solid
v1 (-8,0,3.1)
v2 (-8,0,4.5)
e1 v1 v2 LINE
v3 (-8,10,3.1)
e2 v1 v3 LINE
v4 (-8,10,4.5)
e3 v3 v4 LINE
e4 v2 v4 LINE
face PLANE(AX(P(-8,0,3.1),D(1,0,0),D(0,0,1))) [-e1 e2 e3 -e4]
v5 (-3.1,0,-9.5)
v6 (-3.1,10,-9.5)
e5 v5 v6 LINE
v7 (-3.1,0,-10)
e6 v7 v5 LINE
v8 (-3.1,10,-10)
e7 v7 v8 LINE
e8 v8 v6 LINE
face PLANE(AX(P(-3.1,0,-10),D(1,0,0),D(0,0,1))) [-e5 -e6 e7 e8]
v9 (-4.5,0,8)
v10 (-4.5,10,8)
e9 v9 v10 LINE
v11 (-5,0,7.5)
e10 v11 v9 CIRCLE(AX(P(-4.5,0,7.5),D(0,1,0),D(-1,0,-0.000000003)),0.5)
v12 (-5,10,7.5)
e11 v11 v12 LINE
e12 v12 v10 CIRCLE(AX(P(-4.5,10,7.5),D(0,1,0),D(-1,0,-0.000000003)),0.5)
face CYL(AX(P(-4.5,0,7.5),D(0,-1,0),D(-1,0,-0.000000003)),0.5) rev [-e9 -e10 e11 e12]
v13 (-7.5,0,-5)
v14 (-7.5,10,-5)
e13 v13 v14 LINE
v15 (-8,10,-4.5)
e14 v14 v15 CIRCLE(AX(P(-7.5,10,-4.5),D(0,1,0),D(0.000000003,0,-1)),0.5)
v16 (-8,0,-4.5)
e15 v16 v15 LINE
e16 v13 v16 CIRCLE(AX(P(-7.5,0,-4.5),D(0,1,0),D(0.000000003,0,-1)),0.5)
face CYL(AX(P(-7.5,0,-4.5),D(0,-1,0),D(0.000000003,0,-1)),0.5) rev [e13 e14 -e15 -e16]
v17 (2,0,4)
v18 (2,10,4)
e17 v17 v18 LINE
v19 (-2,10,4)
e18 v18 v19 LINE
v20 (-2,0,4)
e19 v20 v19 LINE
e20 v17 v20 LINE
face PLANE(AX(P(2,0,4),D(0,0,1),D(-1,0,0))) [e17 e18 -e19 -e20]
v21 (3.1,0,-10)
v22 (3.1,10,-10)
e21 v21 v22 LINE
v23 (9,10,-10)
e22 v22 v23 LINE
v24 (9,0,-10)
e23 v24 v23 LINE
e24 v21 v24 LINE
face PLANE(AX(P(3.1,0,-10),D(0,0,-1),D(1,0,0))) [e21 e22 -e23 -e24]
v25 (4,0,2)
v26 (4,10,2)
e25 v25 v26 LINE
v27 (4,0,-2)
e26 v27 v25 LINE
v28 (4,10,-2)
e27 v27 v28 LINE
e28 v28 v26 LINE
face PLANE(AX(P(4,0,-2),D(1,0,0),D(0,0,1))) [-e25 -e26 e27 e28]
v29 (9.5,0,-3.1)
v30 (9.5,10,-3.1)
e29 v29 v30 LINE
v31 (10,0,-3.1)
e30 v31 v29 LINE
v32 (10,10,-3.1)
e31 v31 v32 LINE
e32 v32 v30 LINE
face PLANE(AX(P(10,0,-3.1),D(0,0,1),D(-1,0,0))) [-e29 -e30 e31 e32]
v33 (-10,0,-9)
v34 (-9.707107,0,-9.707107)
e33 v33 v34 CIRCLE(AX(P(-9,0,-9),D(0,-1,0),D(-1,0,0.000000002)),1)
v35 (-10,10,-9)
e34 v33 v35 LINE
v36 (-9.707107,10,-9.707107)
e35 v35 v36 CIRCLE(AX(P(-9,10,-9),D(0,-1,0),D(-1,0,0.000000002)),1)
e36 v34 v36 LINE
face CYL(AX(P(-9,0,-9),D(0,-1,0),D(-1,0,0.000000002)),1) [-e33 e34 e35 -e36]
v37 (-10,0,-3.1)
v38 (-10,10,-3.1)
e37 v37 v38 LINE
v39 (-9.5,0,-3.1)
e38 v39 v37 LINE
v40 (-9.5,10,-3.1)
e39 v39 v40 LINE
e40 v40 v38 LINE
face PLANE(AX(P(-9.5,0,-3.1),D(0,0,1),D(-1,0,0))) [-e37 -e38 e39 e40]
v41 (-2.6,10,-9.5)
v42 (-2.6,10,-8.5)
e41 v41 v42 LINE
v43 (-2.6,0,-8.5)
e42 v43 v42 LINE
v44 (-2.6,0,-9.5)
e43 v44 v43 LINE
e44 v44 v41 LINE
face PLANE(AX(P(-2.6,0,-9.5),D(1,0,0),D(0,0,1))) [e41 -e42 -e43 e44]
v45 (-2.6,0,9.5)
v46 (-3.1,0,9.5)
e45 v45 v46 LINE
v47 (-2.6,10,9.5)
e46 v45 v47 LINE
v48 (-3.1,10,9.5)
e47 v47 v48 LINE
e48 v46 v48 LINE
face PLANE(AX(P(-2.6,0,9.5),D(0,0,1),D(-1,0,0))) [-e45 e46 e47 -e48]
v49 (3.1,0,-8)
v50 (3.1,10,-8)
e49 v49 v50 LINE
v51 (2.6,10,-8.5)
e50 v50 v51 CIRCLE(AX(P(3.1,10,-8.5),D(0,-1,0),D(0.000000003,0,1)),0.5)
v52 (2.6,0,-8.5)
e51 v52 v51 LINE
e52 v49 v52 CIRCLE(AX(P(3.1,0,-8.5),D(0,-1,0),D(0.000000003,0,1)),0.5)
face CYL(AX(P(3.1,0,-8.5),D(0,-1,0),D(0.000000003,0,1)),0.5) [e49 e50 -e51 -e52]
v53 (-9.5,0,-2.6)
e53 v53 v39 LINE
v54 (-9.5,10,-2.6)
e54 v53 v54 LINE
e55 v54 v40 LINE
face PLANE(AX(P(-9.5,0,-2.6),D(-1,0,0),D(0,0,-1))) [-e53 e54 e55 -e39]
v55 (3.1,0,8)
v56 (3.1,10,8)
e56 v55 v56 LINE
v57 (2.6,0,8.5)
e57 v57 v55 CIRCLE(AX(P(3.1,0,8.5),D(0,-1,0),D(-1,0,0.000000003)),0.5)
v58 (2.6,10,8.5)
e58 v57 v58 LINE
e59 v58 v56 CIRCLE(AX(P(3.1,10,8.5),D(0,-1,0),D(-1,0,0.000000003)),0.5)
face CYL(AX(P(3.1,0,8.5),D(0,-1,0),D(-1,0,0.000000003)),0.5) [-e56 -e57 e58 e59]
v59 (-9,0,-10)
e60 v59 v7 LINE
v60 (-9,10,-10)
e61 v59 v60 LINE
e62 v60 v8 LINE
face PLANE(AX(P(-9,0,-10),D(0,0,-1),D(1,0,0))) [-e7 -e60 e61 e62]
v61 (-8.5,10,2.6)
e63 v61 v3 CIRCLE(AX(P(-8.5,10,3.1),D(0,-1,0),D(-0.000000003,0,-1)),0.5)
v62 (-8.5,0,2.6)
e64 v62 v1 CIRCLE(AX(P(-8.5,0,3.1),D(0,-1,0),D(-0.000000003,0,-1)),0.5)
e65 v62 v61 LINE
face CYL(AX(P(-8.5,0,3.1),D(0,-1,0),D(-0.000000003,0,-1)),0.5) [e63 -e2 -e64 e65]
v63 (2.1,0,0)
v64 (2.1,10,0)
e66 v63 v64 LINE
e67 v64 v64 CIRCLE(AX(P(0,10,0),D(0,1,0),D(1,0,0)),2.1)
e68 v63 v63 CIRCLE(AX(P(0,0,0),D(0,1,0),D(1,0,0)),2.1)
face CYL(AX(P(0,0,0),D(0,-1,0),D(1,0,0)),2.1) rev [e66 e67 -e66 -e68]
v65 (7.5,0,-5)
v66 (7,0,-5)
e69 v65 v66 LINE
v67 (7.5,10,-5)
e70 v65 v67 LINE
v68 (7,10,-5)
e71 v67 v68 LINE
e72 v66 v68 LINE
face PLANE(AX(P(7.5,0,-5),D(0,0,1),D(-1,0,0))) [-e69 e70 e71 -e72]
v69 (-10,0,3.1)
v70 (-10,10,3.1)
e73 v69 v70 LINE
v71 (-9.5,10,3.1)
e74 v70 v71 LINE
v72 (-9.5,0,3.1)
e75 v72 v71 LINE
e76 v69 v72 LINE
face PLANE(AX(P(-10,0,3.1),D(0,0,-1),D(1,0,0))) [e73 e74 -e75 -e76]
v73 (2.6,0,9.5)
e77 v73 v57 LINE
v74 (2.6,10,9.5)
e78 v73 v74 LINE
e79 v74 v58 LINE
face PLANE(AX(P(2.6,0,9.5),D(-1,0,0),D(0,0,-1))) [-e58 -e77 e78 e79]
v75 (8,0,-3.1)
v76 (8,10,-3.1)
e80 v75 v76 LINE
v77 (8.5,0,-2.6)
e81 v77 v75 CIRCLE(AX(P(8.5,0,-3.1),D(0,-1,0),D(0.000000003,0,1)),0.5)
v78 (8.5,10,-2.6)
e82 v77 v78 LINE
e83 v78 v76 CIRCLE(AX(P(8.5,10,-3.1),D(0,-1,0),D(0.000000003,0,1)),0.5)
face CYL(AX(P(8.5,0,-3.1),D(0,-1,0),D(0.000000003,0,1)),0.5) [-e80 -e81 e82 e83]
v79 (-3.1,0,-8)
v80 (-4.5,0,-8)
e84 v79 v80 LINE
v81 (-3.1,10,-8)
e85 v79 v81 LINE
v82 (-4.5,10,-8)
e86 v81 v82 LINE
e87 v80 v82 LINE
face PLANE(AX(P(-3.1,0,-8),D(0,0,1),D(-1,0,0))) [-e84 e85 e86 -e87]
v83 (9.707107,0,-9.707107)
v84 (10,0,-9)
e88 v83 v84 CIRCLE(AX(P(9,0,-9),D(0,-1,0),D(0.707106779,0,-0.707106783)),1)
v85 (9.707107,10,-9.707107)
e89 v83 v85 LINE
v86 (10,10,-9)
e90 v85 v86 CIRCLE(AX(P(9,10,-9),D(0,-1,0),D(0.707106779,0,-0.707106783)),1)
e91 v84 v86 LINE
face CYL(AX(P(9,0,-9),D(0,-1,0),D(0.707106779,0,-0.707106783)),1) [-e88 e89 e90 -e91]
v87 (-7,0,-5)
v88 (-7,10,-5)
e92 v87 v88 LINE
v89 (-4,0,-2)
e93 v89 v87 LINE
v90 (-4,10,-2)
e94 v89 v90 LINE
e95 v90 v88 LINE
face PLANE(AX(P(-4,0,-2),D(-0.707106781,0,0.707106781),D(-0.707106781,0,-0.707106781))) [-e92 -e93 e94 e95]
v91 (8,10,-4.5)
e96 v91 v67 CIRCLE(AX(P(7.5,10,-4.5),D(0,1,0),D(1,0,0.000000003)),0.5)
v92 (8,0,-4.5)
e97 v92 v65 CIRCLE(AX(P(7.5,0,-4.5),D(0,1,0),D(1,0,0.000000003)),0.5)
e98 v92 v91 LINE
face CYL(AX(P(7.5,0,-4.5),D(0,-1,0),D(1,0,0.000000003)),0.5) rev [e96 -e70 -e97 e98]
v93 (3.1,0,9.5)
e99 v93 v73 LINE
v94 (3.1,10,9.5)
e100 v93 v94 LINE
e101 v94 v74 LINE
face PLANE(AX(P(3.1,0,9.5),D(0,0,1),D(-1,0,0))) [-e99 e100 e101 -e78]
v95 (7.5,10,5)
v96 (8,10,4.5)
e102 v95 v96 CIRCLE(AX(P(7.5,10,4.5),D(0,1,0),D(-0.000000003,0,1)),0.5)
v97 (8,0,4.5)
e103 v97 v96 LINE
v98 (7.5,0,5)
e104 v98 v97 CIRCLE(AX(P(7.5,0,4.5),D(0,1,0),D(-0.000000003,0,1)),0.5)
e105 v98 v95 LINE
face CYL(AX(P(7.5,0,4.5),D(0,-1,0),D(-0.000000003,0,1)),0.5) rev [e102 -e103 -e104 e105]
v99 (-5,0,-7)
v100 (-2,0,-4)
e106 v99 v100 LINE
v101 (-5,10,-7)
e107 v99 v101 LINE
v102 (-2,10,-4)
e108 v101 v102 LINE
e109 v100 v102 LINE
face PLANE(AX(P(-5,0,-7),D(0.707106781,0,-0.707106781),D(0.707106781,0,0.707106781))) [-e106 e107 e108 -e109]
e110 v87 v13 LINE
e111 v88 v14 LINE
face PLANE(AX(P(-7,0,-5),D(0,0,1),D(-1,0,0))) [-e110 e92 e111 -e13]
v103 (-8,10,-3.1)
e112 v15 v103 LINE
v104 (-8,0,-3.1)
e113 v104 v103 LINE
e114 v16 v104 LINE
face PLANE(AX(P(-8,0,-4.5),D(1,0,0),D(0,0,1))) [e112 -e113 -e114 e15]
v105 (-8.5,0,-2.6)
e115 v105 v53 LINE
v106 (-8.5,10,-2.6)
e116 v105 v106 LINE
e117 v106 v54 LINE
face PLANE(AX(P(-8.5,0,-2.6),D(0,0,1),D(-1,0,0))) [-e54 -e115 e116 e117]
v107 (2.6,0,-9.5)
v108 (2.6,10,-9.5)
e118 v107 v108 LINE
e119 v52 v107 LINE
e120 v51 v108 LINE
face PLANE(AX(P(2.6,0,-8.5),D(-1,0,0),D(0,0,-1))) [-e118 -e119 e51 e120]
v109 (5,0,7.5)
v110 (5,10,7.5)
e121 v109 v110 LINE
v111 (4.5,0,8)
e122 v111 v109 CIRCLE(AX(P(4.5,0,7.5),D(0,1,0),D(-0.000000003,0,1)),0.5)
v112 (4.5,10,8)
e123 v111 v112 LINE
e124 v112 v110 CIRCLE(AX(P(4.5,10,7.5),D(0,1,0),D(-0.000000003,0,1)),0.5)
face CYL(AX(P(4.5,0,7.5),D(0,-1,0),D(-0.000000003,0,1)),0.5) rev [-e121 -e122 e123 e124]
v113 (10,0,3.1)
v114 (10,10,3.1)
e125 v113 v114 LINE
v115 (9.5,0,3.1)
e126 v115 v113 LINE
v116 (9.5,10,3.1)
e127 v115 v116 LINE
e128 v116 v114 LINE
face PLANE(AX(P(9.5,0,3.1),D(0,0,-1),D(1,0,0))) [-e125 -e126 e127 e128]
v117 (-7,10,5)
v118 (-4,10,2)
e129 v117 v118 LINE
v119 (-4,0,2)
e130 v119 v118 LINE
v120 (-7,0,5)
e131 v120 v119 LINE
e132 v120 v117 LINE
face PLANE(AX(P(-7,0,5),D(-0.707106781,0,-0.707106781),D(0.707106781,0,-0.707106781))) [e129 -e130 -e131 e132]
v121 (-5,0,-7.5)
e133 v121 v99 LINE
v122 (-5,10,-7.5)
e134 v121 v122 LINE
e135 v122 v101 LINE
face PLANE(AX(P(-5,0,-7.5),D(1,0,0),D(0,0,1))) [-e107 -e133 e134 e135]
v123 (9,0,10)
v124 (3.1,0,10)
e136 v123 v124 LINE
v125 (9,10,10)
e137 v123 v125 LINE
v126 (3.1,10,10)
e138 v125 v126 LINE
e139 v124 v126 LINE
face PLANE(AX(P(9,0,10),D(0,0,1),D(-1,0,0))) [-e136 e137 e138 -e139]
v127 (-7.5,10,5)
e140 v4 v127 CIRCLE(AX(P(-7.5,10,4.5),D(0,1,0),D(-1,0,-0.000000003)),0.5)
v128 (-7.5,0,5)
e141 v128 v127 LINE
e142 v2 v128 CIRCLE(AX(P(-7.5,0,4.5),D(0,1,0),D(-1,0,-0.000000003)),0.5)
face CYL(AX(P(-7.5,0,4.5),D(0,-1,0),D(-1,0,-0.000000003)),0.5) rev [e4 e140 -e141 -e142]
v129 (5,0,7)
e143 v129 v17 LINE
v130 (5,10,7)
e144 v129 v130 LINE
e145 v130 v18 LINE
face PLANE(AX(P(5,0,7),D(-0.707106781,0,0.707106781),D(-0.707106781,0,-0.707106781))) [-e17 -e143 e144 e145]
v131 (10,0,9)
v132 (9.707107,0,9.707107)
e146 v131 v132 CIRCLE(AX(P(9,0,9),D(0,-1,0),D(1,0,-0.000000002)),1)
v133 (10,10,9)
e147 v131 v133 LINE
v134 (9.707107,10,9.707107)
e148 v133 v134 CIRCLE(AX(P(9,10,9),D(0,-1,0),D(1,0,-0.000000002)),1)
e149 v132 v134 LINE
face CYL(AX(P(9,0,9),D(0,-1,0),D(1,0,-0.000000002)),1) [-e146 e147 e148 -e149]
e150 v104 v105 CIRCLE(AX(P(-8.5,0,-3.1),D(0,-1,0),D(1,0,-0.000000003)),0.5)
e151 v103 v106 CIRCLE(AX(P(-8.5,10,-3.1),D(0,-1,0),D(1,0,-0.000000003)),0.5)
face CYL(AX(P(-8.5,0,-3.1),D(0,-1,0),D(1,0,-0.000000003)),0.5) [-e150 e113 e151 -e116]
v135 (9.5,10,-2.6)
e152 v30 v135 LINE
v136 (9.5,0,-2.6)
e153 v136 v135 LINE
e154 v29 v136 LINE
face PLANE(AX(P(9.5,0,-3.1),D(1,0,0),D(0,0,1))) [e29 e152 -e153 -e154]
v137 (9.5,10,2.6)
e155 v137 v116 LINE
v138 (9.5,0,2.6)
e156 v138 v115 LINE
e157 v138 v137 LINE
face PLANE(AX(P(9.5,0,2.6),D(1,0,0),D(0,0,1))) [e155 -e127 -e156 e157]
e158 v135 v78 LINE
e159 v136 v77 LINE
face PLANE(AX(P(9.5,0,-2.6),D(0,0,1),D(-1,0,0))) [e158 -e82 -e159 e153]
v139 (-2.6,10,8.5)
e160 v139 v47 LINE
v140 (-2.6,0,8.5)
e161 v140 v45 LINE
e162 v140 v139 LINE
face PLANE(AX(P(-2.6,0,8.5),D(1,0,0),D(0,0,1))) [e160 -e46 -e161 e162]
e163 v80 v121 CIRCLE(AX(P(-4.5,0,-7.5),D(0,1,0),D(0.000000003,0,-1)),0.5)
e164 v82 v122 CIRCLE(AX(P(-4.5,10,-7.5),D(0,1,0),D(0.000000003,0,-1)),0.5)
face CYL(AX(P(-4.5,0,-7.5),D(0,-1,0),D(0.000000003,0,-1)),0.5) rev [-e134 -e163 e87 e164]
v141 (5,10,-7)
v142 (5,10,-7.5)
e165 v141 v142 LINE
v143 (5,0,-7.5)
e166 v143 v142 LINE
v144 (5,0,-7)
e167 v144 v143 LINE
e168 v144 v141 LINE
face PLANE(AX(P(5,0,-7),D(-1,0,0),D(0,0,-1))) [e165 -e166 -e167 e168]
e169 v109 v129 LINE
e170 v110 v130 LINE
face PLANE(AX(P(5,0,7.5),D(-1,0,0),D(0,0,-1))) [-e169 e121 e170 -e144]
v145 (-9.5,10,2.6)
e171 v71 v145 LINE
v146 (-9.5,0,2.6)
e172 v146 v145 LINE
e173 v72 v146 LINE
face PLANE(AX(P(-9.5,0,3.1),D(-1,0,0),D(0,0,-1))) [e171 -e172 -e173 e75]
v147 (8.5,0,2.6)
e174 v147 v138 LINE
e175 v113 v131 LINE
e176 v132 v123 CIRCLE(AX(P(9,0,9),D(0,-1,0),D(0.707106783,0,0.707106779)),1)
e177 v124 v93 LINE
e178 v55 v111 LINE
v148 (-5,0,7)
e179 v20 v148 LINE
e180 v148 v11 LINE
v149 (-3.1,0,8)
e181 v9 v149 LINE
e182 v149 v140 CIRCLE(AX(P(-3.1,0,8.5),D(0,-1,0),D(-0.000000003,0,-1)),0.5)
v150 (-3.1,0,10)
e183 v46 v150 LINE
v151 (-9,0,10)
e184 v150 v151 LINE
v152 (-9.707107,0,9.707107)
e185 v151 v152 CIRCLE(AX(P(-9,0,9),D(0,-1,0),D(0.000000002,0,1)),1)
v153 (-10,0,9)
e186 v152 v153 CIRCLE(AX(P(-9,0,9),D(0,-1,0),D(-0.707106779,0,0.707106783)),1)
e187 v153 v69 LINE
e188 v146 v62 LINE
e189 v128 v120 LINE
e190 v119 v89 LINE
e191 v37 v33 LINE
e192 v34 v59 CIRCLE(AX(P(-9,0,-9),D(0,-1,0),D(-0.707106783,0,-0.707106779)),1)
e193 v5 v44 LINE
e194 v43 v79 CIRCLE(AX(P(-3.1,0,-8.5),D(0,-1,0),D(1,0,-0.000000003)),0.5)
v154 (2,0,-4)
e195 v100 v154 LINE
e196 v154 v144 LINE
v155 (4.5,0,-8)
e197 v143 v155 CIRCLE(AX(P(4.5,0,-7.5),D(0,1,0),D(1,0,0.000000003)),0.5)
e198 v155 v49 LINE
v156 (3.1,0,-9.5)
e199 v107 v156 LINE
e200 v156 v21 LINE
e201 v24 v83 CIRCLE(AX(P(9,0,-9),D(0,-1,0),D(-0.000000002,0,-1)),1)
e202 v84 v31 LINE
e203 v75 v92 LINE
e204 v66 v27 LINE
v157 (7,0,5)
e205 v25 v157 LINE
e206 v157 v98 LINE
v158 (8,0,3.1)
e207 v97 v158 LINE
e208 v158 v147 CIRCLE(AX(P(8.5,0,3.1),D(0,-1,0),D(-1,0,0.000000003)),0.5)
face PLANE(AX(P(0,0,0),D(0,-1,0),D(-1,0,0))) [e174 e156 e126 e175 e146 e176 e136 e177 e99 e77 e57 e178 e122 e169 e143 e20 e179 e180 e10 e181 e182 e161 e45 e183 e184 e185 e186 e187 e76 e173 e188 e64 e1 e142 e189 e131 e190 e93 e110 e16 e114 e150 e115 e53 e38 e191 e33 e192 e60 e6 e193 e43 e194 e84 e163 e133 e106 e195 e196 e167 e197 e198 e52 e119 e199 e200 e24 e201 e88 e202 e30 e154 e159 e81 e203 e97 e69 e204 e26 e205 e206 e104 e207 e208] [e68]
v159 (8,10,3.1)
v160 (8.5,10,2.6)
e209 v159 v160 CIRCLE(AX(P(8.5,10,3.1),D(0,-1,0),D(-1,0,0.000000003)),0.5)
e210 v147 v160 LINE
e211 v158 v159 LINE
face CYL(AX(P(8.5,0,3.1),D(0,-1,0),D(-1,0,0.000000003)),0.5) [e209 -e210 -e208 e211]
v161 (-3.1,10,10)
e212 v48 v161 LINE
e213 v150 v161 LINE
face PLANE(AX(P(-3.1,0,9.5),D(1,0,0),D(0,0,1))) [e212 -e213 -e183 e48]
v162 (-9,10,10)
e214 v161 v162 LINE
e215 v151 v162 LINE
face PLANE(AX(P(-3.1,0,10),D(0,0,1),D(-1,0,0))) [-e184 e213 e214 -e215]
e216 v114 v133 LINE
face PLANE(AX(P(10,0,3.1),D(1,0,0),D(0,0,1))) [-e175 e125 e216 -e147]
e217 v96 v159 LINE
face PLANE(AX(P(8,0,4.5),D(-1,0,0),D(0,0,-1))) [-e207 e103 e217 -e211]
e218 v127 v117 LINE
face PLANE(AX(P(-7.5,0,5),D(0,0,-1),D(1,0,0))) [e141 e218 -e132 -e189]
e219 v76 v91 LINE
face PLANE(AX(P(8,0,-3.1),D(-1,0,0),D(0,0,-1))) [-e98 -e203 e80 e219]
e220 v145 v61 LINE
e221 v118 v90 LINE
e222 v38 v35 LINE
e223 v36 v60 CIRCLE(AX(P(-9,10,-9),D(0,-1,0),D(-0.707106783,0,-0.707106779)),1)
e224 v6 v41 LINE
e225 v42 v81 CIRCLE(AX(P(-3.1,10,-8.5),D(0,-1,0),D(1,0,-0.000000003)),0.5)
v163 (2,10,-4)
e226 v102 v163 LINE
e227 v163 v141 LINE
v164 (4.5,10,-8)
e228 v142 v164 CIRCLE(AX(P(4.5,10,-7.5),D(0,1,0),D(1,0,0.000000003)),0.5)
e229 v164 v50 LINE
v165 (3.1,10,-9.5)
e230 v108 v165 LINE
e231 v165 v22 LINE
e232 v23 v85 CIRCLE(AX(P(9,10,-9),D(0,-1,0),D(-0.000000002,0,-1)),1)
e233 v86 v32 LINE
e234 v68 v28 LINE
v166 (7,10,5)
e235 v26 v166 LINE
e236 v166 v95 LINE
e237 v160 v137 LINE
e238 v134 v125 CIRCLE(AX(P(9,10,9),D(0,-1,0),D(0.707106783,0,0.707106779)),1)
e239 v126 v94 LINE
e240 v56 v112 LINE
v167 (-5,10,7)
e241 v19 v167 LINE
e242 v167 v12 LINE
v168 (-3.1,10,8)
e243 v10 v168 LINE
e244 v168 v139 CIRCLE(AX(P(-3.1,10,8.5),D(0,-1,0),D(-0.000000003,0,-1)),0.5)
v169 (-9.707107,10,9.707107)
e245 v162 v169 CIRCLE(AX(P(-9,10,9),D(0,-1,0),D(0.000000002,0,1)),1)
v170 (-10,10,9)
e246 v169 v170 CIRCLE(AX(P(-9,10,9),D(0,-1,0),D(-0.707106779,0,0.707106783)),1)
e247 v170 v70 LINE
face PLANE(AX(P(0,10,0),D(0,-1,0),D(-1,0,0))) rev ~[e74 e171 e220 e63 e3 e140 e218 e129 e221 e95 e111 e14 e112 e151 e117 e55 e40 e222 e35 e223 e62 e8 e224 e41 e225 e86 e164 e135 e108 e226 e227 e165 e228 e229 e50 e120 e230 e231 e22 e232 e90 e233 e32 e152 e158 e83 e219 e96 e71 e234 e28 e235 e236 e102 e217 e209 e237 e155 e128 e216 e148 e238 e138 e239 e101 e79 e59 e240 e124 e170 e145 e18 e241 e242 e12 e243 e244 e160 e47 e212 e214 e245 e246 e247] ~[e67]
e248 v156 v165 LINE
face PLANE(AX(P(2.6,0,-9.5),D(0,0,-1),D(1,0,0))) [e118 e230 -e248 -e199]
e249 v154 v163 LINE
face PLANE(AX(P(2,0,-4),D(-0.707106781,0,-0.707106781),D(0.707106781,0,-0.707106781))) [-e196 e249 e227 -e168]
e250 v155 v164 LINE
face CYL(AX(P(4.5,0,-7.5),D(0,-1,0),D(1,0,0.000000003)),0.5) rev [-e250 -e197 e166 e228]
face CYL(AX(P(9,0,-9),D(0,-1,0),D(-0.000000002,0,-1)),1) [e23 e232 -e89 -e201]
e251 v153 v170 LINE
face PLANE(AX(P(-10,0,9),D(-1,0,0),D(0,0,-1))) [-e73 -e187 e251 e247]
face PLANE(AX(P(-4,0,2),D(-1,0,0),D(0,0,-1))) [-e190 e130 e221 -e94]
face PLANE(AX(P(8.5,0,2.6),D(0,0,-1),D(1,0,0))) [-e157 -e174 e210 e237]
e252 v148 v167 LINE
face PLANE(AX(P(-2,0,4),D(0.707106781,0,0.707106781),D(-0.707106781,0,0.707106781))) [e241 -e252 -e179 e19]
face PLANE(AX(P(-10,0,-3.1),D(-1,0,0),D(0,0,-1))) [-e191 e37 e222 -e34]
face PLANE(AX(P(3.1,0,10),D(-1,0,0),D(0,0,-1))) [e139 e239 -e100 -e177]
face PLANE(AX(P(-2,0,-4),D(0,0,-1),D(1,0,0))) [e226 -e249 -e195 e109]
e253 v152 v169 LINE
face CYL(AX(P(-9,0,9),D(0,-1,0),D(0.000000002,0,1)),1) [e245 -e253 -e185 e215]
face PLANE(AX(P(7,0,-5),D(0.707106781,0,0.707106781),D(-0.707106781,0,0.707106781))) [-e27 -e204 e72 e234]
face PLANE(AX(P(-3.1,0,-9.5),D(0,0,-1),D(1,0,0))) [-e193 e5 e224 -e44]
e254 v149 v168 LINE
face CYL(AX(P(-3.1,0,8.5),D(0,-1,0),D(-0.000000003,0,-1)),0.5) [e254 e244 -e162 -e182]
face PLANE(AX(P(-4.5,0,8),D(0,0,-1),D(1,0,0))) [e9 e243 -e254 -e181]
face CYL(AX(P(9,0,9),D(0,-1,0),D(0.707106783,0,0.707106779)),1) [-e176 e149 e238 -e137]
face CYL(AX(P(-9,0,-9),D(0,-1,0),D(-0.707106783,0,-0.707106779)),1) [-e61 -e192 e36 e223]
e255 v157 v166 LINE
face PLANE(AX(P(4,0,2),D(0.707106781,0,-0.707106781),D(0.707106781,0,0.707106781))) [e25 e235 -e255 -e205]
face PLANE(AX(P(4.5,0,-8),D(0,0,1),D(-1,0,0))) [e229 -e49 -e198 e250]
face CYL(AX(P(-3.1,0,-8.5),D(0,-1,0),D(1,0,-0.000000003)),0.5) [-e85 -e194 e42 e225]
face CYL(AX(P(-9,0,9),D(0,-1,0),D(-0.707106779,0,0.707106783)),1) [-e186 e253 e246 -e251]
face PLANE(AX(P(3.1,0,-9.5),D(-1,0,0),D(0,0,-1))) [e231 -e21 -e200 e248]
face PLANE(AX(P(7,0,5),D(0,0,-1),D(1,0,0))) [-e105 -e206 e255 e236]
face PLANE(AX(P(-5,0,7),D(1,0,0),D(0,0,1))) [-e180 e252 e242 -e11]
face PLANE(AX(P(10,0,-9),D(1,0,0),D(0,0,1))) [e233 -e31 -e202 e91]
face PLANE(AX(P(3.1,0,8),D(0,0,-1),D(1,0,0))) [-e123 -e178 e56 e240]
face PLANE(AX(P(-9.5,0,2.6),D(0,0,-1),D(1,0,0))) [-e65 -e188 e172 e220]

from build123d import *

# Parameters (mm, degrees)
SKETCH_1_R      = 2.1
EXTRUDE_1_DEPTH = 10


with BuildPart() as part:
    # 스케치1 → 보스-돌출1 (new body)
    with BuildSketch(Plane(origin=(0, 0, 0), x_dir=(1, 0, 0), z_dir=(0, 1, 0))):
        with BuildLine():
            Line((2, -4), (-2, -4))
            Line((-2, -4), (-5, -7))
            Line((-5, -7), (-5, -7.5))
            ThreePointArc((-5, -7.5), (-4.853553391, -7.853553391), (-4.5, -8))
            Line((-4.5, -8), (-3.1, -8))
            ThreePointArc((-3.1, -8), (-2.746446609, -8.146446609), (-2.6, -8.5))
            Line((-2.6, -8.5), (-2.6, -9.5))
            Line((-2.6, -9.5), (-3.1, -9.5))
            Line((-3.1, -9.5), (-3.1, -10))
            Line((-3.1, -10), (-9, -10))
            ThreePointArc((-9, -10), (-9.382683432, -9.923879533), (-9.707106781, -9.707106781))
            ThreePointArc((-9.707106781, -9.707106781), (-9.923879533, -9.382683432), (-10, -9))
            Line((-10, -9), (-10, -3.1))
            Line((-10, -3.1), (-9.5, -3.1))
            Line((-9.5, -3.1), (-9.5, -2.6))
            Line((-9.5, -2.6), (-8.5, -2.6))
            ThreePointArc((-8.5, -2.6), (-8.146446609, -2.746446609), (-8, -3.1))
            Line((-8, -3.1), (-8, -4.5))
            ThreePointArc((-8, -4.5), (-7.853553391, -4.853553391), (-7.5, -5))
            Line((-7.5, -5), (-7, -5))
            Line((-7, -5), (-4, -2))
            Line((-4, -2), (-4, 2))
            Line((-4, 2), (-7, 5))
            Line((-7, 5), (-7.5, 5))
            ThreePointArc((-7.5, 5), (-7.853553391, 4.853553391), (-8, 4.5))
            Line((-8, 4.5), (-8, 3.1))
            ThreePointArc((-8, 3.1), (-8.146446609, 2.746446609), (-8.5, 2.6))
            Line((-8.5, 2.6), (-9.5, 2.6))
            Line((-9.5, 2.6), (-9.5, 3.1))
            Line((-9.5, 3.1), (-10, 3.1))
            Line((-10, 3.1), (-10, 9))
            ThreePointArc((-10, 9), (-9.923879533, 9.382683432), (-9.707106781, 9.707106781))
            ThreePointArc((-9.707106781, 9.707106781), (-9.382683432, 9.923879533), (-9, 10))
            Line((-9, 10), (-3.1, 10))
            Line((-3.1, 10), (-3.1, 9.5))
            Line((-3.1, 9.5), (-2.6, 9.5))
            Line((-2.6, 9.5), (-2.6, 8.5))
            ThreePointArc((-2.6, 8.5), (-2.746446609, 8.146446609), (-3.1, 8))
            Line((-3.1, 8), (-4.5, 8))
            ThreePointArc((-4.5, 8), (-4.853553391, 7.853553391), (-5, 7.5))
            Line((-5, 7.5), (-5, 7))
            Line((-5, 7), (-2, 4))
            Line((-2, 4), (2, 4))
            Line((2, 4), (5, 7))
            Line((5, 7), (5, 7.5))
            ThreePointArc((5, 7.5), (4.853553391, 7.853553391), (4.5, 8))
            Line((4.5, 8), (3.1, 8))
            ThreePointArc((3.1, 8), (2.746446609, 8.146446609), (2.6, 8.5))
            Line((2.6, 8.5), (2.6, 9.5))
            Line((2.6, 9.5), (3.1, 9.5))
            Line((3.1, 9.5), (3.1, 10))
            Line((3.1, 10), (9, 10))
            ThreePointArc((9, 10), (9.382683432, 9.923879533), (9.707106781, 9.707106781))
            ThreePointArc((9.707106781, 9.707106781), (9.923879533, 9.382683432), (10, 9))
            Line((10, 9), (10, 3.1))
            Line((10, 3.1), (9.5, 3.1))
            Line((9.5, 3.1), (9.5, 2.6))
            Line((9.5, 2.6), (8.5, 2.6))
            ThreePointArc((8.5, 2.6), (8.146446609, 2.746446609), (8, 3.1))
            Line((8, 3.1), (8, 4.5))
            ThreePointArc((8, 4.5), (7.853553391, 4.853553391), (7.5, 5))
            Line((7.5, 5), (7, 5))
            Line((7, 5), (4, 2))
            Line((4, 2), (4, -2))
            Line((4, -2), (7, -5))
            Line((7, -5), (7.5, -5))
            ThreePointArc((7.5, -5), (7.853553391, -4.853553391), (8, -4.5))
            Line((8, -4.5), (8, -3.1))
            ThreePointArc((8, -3.1), (8.146446609, -2.746446609), (8.5, -2.6))
            Line((8.5, -2.6), (9.5, -2.6))
            Line((9.5, -2.6), (9.5, -3.1))
            Line((9.5, -3.1), (10, -3.1))
            Line((10, -3.1), (10, -9))
            ThreePointArc((10, -9), (9.923879533, -9.382683432), (9.707106781, -9.707106781))
            ThreePointArc((9.707106781, -9.707106781), (9.382683432, -9.923879533), (9, -10))
            Line((9, -10), (3.1, -10))
            Line((3.1, -10), (3.1, -9.5))
            Line((3.1, -9.5), (2.6, -9.5))
            Line((2.6, -9.5), (2.6, -8.5))
            ThreePointArc((2.6, -8.5), (2.746446609, -8.146446609), (3.1, -8))
            Line((3.1, -8), (4.5, -8))
            ThreePointArc((4.5, -8), (4.853553391, -7.853553391), (5, -7.5))
            Line((5, -7.5), (5, -7))
            Line((5, -7), (2, -4))
        make_face()
        Circle(SKETCH_1_R, mode=Mode.SUBTRACT)
    extrude(amount=EXTRUDE_1_DEPTH)


solid = part.part
